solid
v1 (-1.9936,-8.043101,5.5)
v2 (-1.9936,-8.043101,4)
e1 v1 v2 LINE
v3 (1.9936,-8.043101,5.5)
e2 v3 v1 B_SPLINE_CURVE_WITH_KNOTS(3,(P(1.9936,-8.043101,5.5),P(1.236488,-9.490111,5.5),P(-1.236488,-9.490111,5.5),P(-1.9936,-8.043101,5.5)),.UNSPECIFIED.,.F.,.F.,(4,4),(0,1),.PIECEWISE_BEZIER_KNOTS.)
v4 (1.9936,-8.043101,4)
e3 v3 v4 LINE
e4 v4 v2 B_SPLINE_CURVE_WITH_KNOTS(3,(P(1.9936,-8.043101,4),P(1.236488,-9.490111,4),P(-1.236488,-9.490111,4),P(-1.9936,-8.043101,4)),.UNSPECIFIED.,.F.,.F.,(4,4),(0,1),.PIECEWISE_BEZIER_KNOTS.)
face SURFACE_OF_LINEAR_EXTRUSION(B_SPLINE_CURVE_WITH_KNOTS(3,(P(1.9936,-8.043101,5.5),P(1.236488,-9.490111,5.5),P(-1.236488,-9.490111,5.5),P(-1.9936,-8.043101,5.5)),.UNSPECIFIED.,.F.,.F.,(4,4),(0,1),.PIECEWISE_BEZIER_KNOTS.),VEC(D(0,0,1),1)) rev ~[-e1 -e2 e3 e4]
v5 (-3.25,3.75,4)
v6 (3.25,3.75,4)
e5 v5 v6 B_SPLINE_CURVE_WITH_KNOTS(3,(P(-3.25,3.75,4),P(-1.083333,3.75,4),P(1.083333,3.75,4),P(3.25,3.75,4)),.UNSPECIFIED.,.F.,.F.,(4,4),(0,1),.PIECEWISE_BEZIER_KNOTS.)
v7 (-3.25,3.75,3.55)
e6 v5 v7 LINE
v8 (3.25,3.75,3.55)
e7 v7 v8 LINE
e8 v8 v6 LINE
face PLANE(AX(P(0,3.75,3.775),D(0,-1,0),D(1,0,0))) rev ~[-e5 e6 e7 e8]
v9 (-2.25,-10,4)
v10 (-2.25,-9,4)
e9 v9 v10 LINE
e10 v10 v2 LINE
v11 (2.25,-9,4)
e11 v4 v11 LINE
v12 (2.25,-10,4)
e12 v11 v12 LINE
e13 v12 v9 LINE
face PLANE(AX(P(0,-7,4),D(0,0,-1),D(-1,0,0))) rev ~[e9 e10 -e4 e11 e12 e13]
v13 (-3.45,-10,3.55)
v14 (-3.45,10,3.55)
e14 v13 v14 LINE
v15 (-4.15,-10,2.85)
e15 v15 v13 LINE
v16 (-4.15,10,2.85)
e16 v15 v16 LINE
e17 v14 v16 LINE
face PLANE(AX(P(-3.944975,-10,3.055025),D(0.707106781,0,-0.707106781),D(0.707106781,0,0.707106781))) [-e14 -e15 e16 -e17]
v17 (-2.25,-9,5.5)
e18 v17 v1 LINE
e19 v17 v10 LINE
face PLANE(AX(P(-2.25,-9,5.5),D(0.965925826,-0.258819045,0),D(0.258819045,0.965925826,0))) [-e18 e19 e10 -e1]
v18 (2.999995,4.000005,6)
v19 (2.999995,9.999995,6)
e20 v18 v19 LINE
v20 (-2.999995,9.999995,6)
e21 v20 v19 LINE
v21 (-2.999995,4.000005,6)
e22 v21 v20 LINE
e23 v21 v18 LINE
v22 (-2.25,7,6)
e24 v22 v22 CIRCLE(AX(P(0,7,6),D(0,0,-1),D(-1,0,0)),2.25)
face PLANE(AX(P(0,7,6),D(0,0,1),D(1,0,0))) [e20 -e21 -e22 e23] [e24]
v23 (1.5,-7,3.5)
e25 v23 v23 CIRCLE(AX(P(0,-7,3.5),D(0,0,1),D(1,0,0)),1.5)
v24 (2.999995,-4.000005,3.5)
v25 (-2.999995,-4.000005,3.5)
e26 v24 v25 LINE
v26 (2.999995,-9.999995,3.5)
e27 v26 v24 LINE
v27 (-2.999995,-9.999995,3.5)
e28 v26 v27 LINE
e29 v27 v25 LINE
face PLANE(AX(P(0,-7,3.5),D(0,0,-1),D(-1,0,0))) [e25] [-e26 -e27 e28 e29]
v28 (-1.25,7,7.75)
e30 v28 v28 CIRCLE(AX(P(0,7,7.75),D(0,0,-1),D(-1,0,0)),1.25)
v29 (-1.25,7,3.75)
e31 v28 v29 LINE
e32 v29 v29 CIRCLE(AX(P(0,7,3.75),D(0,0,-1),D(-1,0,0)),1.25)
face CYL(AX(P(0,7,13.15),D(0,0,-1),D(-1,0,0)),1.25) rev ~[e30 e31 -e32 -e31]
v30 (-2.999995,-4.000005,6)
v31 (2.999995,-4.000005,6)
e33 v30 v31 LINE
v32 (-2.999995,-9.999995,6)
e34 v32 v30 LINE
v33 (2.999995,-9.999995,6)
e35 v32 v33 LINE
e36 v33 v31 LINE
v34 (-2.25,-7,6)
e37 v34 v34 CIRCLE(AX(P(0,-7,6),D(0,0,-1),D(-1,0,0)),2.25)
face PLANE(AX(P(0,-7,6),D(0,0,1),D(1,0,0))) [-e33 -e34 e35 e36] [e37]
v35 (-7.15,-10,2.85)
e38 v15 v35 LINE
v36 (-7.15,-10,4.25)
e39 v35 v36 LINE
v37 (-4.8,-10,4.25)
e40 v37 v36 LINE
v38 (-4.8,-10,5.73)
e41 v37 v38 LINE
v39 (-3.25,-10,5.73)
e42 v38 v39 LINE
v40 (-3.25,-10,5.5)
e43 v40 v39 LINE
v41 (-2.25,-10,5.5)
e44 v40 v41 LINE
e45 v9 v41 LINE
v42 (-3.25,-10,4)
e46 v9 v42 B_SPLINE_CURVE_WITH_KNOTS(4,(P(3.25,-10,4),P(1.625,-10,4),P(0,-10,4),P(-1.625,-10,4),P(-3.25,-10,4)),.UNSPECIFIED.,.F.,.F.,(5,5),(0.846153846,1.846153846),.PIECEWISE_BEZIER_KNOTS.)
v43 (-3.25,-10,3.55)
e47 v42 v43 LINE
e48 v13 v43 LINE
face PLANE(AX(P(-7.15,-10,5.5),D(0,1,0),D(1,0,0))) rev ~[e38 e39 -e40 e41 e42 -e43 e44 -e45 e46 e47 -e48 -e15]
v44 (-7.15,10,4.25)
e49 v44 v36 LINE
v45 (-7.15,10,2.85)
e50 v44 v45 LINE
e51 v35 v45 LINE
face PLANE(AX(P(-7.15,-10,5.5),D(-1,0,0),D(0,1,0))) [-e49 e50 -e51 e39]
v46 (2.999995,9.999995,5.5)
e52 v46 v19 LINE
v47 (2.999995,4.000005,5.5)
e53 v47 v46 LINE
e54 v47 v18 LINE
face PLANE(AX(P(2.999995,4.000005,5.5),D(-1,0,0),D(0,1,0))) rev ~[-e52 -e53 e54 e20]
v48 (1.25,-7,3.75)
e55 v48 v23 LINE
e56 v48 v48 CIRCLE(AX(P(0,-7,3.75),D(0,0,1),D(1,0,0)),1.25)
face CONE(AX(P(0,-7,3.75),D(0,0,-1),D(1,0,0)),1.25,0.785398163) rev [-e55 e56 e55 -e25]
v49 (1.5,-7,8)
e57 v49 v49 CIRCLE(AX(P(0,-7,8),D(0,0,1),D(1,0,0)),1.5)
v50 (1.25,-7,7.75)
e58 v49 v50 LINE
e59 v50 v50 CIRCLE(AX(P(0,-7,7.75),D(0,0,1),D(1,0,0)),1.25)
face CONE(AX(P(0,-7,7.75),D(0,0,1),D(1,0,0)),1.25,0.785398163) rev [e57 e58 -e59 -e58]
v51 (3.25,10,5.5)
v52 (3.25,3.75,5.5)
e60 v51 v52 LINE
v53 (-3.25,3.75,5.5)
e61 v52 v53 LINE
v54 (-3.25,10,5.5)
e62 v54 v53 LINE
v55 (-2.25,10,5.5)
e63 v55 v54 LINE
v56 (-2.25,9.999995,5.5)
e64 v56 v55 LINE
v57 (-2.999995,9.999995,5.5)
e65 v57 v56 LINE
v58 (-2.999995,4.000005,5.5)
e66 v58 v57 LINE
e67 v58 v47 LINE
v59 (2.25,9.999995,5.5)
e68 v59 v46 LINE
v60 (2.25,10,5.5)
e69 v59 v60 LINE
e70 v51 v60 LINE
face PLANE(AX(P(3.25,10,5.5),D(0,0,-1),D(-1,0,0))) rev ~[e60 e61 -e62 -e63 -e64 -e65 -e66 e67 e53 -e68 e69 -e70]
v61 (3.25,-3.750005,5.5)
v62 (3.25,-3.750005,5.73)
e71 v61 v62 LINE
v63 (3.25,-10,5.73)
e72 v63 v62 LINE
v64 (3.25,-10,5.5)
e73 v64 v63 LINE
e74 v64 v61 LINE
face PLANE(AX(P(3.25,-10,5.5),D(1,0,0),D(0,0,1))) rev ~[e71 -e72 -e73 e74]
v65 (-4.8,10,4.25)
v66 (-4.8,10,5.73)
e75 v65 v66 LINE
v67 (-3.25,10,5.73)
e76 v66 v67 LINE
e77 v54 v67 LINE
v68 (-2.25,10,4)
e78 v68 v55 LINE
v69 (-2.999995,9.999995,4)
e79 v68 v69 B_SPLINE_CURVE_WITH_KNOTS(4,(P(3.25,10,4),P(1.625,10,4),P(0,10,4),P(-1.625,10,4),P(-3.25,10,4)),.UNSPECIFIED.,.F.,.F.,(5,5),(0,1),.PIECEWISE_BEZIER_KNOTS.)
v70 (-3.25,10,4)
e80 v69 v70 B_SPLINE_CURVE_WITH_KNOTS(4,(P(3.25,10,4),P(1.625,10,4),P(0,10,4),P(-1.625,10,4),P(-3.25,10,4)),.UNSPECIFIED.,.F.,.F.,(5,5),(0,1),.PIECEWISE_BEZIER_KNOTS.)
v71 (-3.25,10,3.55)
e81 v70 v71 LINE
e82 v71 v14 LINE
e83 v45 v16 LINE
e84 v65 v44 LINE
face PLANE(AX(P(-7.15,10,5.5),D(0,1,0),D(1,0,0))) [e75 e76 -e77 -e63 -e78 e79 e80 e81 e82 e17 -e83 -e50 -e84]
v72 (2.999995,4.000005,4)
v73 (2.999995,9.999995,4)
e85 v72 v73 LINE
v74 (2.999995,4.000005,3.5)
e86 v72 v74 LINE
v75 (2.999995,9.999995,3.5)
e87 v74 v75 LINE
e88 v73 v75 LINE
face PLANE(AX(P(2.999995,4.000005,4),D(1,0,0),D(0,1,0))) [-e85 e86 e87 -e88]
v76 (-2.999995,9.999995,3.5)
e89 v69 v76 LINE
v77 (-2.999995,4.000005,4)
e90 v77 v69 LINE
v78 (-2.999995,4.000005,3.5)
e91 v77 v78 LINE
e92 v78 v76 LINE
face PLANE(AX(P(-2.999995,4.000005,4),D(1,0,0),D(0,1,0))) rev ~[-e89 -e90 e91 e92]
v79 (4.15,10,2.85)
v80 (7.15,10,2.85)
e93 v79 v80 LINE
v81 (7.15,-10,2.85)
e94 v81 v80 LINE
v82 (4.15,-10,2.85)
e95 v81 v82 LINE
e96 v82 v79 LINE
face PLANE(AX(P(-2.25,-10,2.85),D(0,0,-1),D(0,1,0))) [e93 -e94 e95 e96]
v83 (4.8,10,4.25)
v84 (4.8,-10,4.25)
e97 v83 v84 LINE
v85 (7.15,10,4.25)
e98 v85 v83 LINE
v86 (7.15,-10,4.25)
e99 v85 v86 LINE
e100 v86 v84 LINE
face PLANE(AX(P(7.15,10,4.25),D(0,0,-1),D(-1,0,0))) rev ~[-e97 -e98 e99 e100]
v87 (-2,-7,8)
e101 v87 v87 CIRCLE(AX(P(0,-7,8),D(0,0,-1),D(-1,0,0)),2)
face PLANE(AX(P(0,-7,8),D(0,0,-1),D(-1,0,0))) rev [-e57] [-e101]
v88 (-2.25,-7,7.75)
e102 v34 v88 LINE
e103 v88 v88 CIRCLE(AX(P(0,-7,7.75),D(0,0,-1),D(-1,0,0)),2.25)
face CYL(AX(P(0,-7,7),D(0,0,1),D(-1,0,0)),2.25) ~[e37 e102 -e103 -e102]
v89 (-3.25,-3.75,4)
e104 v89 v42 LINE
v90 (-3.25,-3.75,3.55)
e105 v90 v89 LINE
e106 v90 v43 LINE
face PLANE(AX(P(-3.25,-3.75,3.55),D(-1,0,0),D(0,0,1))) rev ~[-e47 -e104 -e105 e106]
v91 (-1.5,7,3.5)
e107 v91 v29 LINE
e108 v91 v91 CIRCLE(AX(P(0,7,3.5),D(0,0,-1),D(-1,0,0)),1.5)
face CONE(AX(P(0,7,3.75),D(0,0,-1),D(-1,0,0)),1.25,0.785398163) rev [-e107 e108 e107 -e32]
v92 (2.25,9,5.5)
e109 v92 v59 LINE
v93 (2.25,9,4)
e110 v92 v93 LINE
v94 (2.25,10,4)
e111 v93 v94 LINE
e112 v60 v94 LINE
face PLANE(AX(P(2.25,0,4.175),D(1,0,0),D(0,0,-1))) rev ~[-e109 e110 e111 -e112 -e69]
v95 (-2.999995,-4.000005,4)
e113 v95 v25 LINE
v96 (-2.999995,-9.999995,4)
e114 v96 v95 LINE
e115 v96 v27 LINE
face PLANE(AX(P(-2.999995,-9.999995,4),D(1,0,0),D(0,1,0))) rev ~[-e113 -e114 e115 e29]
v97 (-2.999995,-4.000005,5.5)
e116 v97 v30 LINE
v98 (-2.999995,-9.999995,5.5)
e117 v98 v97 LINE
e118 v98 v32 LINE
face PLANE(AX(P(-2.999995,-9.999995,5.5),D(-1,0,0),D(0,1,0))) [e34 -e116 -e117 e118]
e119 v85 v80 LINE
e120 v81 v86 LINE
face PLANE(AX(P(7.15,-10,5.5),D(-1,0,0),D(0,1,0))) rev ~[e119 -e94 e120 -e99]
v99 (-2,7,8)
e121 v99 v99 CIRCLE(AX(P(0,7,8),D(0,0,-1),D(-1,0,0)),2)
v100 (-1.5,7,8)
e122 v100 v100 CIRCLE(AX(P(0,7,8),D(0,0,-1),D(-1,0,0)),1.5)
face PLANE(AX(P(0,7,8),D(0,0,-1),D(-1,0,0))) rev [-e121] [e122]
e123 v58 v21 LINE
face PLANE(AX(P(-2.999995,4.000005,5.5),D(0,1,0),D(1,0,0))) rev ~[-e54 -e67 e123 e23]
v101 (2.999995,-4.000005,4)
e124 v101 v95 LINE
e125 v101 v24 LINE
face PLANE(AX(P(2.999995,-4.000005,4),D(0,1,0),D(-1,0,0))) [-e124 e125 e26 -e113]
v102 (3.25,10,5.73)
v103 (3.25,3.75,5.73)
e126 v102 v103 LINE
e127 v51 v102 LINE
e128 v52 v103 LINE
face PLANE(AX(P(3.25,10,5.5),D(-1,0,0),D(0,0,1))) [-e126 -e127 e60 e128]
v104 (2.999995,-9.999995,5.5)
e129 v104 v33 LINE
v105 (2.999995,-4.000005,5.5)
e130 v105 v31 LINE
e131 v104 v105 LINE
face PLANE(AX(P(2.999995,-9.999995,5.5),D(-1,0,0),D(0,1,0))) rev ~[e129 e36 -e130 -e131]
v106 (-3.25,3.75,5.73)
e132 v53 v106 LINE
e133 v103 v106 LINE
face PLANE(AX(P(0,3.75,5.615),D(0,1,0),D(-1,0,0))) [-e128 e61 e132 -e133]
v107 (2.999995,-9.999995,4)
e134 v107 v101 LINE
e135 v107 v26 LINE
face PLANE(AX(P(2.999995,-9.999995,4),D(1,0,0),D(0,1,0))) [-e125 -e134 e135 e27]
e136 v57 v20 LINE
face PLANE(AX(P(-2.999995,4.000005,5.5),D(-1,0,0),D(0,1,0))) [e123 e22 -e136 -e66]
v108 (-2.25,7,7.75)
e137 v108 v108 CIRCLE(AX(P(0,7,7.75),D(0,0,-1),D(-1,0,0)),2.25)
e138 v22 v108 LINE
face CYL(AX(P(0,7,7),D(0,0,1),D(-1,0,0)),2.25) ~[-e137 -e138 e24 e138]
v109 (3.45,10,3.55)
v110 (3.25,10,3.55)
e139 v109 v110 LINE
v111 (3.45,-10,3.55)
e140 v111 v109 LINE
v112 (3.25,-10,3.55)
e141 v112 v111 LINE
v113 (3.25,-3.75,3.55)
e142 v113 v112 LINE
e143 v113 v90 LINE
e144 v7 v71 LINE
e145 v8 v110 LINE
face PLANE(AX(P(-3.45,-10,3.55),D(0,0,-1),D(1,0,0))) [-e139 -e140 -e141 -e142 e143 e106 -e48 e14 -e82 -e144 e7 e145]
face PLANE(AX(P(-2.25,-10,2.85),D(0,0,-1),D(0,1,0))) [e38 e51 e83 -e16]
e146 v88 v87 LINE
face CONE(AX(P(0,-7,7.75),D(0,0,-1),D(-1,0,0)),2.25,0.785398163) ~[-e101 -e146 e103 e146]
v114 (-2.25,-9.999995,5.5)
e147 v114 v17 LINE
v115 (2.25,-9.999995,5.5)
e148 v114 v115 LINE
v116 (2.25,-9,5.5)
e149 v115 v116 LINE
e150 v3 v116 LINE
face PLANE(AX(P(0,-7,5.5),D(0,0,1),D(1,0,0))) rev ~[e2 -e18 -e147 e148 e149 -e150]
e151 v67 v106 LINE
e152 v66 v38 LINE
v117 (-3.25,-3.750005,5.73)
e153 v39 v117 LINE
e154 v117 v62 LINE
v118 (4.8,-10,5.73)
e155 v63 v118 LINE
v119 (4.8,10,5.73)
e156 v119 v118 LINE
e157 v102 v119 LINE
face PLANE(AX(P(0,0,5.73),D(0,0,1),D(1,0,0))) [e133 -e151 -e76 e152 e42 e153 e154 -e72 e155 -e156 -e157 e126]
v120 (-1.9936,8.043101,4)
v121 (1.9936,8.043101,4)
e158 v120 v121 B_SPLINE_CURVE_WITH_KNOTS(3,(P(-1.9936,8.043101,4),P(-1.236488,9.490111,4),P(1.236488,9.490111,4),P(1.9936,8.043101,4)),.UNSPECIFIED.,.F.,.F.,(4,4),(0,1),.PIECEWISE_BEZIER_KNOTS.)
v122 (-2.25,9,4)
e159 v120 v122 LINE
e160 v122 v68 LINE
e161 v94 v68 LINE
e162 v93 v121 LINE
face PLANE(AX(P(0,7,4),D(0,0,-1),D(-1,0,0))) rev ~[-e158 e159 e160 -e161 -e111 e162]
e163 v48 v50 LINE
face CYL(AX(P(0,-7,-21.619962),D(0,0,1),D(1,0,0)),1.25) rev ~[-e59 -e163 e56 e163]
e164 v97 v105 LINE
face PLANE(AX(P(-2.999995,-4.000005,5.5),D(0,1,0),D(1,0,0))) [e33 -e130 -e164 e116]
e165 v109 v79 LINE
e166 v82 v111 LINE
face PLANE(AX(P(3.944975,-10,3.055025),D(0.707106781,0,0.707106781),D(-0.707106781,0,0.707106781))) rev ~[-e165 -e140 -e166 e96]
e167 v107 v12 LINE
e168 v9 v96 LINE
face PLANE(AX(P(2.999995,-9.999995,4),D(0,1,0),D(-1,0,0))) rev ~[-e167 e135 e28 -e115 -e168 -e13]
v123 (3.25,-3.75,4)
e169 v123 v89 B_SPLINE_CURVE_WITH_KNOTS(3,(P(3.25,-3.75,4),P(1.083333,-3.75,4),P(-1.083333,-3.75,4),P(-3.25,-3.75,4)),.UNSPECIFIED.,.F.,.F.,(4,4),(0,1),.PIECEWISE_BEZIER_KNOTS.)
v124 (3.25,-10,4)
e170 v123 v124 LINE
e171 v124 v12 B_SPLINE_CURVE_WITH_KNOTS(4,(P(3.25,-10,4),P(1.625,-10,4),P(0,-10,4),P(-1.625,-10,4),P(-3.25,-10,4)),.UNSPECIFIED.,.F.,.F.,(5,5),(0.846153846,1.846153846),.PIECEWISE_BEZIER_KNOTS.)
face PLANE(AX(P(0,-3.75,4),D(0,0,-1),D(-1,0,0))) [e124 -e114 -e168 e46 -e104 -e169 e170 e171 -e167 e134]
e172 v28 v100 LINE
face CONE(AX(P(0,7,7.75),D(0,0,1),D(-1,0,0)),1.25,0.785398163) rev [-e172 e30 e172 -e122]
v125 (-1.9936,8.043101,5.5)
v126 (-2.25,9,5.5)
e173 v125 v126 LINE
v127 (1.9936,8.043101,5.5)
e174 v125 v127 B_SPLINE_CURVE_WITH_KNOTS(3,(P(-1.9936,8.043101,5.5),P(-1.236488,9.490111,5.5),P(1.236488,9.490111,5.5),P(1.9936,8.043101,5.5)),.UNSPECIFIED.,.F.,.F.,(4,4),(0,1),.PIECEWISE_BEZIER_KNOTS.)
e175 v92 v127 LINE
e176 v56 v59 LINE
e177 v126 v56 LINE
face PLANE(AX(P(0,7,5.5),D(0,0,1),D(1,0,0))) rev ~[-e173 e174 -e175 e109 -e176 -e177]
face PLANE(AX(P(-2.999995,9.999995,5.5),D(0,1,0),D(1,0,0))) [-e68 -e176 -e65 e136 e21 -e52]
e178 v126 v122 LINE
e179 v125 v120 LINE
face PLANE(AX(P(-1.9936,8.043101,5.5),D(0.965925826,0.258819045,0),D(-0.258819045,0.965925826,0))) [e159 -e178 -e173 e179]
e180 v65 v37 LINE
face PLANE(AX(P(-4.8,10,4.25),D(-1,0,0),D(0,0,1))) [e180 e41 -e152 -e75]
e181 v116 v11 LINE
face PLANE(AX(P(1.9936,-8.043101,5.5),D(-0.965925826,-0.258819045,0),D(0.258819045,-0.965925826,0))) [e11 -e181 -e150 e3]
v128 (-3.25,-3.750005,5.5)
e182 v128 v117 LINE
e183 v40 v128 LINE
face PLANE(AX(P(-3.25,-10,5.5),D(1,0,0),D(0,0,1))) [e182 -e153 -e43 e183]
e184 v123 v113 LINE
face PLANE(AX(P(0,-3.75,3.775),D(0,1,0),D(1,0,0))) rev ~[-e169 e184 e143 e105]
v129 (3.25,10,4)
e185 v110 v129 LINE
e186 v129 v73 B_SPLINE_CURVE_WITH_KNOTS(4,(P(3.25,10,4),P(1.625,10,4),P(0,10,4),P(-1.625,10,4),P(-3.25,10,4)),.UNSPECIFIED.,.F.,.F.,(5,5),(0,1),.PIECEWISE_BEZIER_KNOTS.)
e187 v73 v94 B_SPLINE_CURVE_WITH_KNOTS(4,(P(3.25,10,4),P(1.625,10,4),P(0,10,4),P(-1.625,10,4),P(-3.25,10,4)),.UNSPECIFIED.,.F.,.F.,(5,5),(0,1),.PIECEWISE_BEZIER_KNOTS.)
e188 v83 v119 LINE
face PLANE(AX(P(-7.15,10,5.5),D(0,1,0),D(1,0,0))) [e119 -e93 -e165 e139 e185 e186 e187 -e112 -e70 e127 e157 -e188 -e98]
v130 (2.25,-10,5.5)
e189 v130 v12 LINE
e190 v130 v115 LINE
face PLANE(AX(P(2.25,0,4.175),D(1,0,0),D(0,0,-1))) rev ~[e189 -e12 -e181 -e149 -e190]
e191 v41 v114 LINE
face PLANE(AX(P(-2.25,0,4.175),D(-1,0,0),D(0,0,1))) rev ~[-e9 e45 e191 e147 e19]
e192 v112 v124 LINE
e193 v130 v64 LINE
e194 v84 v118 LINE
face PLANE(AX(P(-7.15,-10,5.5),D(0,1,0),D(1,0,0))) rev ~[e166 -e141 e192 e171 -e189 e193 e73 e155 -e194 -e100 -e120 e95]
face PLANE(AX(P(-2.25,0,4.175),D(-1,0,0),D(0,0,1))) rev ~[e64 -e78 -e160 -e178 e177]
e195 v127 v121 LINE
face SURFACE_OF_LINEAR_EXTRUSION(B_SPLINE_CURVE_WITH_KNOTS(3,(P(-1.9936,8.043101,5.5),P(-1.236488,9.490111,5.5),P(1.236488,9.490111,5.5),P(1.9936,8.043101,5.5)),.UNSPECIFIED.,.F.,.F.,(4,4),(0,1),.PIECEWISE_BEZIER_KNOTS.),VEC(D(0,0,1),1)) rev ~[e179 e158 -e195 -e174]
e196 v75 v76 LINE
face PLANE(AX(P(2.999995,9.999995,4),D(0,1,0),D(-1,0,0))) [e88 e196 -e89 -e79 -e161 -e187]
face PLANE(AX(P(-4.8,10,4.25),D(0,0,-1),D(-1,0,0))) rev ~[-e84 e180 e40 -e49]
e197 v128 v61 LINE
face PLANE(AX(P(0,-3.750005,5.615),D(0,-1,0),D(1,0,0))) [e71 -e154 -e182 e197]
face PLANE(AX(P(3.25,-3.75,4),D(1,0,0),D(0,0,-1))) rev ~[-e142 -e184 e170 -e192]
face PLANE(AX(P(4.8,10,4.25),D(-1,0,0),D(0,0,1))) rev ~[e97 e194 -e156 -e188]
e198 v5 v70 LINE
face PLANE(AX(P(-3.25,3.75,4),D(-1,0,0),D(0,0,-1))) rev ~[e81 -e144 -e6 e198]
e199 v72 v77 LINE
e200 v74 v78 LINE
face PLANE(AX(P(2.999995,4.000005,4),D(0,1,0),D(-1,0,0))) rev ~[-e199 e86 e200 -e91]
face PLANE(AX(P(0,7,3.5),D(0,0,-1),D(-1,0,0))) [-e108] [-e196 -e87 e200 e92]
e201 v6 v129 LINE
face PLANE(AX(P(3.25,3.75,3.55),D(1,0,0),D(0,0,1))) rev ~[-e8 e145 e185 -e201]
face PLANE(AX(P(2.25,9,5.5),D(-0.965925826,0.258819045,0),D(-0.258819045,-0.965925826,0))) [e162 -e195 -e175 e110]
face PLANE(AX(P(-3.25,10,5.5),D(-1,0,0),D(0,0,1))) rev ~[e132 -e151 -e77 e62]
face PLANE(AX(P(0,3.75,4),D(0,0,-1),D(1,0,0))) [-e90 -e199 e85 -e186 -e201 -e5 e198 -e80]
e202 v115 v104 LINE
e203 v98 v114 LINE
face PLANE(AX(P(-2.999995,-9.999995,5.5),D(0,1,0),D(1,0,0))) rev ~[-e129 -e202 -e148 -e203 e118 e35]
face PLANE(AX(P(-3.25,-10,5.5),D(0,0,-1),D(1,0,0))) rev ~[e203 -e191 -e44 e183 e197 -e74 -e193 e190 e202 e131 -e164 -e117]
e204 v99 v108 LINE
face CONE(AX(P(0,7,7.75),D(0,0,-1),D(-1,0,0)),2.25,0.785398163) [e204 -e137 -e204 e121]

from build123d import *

# Parameters (mm, degrees)
BOSS_EXTRUDE1_DEPTH            = 1.5
SKETCH2_W                      = 4.5
SKETCH2_H                      = 19.25
BOSS_EXTRUDE2_DEPTH            = 1.15
BOSS_EXTRUDE3_DEPTH            = 0.75
SKETCH4_W                      = 2.65
SKETCH4_H                      = 20
BOSS_EXTRUDE4_DEPTH            = 4.9
SKETCH5_W                      = 2.65
SKETCH5_H                      = 20
BOSS_EXTRUDE5_DEPTH            = 4.9
SKETCH6_W                      = 14.3
SKETCH6_H                      = 20
BOSS_EXTRUDE6_DEPTH            = 0.23
SKETCH7_W                      = 6.9
SKETCH7_H                      = 0.7
CUT_EXTRUDE1_DEPTH             = 22.99898649
CUT_EXTRUDE2_REACH             = 18.523
CUT_EXTRUDE3_REACH             = 18.523
SKETCH12_W                     = 6.5
SKETCH12_H                     = 0.23
CUT_EXTRUDE4_DEPTH             = 6.25
SKETCH13_W                     = 6.5
SKETCH13_H                     = 0.23
CUT_EXTRUDE5_DEPTH             = 6.249995
SKETCH14_W                     = 2.35
SKETCH14_H                     = 1.48
CUT_EXTRUDE6_DEPTH             = 22.99898649
SKETCH15_W                     = 2.35
SKETCH15_H                     = 1.48
CUT_EXTRUDE7_DEPTH             = 22.99898649
SKETCH16_W                     = 5.99999
SKETCH16_H                     = 5.99999
BOSS_EXTRUDE7_DEPTH            = 0.5
SKETCH17_W                     = 5.99999
SKETCH17_H                     = 5.99999
BOSS_EXTRUDE8_DEPTH            = 0.5
SKETCH18_W                     = 5.99999
SKETCH18_H                     = 5.99999
BOSS_EXTRUDE9_DEPTH            = 0.5
SKETCH19_W                     = 5.99999
SKETCH19_H                     = 5.99999
BOSS_EXTRUDE10_DEPTH           = 0.5
DRAFT1_ANGLE                   = 45
SKETCH20_W                     = 2.25
SKETCH20_H                     = 2
SKETCH21_W                     = 2.25
SKETCH21_H                     = 2
F_2_5_2_5_DIAMETER_HOLE1_D     = 2.5
F_2_5_2_5_DIAMETER_HOLE2_D     = 2.5
F_2_5_2_5_DIAMETER_HOLE2_DEPTH = 5.15
CHAMFER1_SIZE                  = 0.25


with BuildPart() as part:
    # Sketch1 → Boss-Extrude1 (new body)
    with BuildSketch(Plane.XY.offset(5.5)):
        with BuildLine():
            Line((1.993599736, -8.043101189), (2.25, -9))
            Line((2.25, -9), (2.25, 9))
            Line((2.25, 9), (1.993599736, 8.043101189))
            add(Edge.make_bspline(
                [(-1.993599736, 8.043101189), (-1.236487805, 9.490111472), (1.236487805, 9.490111472), (1.993599736, 8.043101189)],
                knots=[0, 0, 0, 0, 1, 1, 1, 1], degree=3))
            Line((-1.993599736, 8.043101189), (-2.25, 9))
            Line((-2.25, 9), (-2.25, -9))
            Line((-2.25, -9), (-1.993599736, -8.043101189))
            add(Edge.make_bspline(
                [(1.993599736, -8.043101189), (1.236487805, -9.490111472), (-1.236487805, -9.490111472), (-1.993599736, -8.043101189)],
                knots=[0, 0, 0, 0, 1, 1, 1, 1], degree=3))
        make_face()
    extrude(amount=-BOSS_EXTRUDE1_DEPTH)

    # Sketch2 → Boss-Extrude2 (add)
    with BuildSketch(Plane(origin=(0, 0, 4), x_dir=(-1, 0, 0), z_dir=(0, 0, -1))):
        with Locations((0, 0.375)):
            Rectangle(SKETCH2_W, SKETCH2_H)
    extrude(amount=BOSS_EXTRUDE2_DEPTH)

    # Sketch3 → Boss-Extrude3 (add)
    with BuildSketch(Plane.XZ.offset(9.25)):
        with BuildLine():
            Line((2.25, 2.85), (-2.25, 2.85))
            Line((-2.25, 2.85), (-2.25, 4))
            add(Edge.make_bspline(
                [(2.25, 4), (0.75, 4), (-0.75, 4), (-2.25, 4)],
                knots=[0, 0, 0, 0, 1, 1, 1, 1], degree=3))
            Line((2.25, 4), (2.25, 2.85))
        make_face()
    extrude(amount=BOSS_EXTRUDE3_DEPTH)

    # Sketch4 → Boss-Extrude4 (add)
    with BuildSketch(Plane(origin=(2.25, 0, 0), x_dir=(0, 0, -1), z_dir=(1, 0, 0))):
        with Locations((-4.175, 0)):
            Rectangle(SKETCH4_W, SKETCH4_H)
    extrude(amount=BOSS_EXTRUDE4_DEPTH)

    # Sketch5 → Boss-Extrude5 (add)
    with BuildSketch(Plane.ZY.offset(2.25)):
        with Locations((4.175, 0)):
            Rectangle(SKETCH5_W, SKETCH5_H)
    extrude(amount=BOSS_EXTRUDE5_DEPTH)

    # Sketch6 → Boss-Extrude6 (add)
    with BuildSketch(Plane.XY.offset(5.5)):
        Rectangle(SKETCH6_W, SKETCH6_H)
    extrude(amount=BOSS_EXTRUDE6_DEPTH)

    # Sketch7 → Cut-Extrude1 (cut, through all)
    with BuildSketch(Plane.XZ.offset(10)):
        with Locations((0, 3.2)):
            Rectangle(SKETCH7_W, SKETCH7_H)
    extrude(amount=-CUT_EXTRUDE1_DEPTH, mode=Mode.SUBTRACT)

    # Sketch9 → Cut-Extrude2 (cut, up to next)
    with BuildSketch(Plane(origin=(0, -3.75, 0), x_dir=(1, 0, 0), z_dir=(0, 1, 0)), mode=Mode.PRIVATE) as cut_extrude2_sk1:
        with BuildLine():
            Line((3.25, -4), (3.25, -3.55))
            Line((3.25, -3.55), (-3.25, -3.55))
            Line((-3.25, -3.55), (-3.25, -4))
            add(Edge.make_bspline(
                [(3.25, -4), (1.083333333, -4), (-1.083333333, -4), (-3.25, -4)],
                knots=[0, 0, 0, 0, 1, 1, 1, 1], degree=3))
        make_face()
    cut_extrude2_tool1 = extrude(cut_extrude2_sk1.sketch, amount=-CUT_EXTRUDE2_REACH, mode=Mode.PRIVATE) & part.part
    add(cut_extrude2_tool1.solids().sort_by_distance((0, -3.75, 3.775))[0], mode=Mode.SUBTRACT)

    # Sketch11 → Cut-Extrude3 (cut, up to next)
    with BuildSketch(Plane.XZ.offset(-3.75), mode=Mode.PRIVATE) as cut_extrude3_sk1:
        with BuildLine():
            Line((-3.25, 4), (-3.25, 3.55))
            Line((-3.25, 3.55), (3.25, 3.55))
            Line((3.25, 3.55), (3.25, 4))
            add(Edge.make_bspline(
                [(-3.25, 4), (-1.083333333, 4), (1.083333333, 4), (3.25, 4)],
                knots=[0, 0, 0, 0, 1, 1, 1, 1], degree=3))
        make_face()
    cut_extrude3_tool1 = extrude(cut_extrude3_sk1.sketch, amount=-CUT_EXTRUDE3_REACH, mode=Mode.PRIVATE) & part.part
    add(cut_extrude3_tool1.solids().sort_by_distance((0, 3.75, 3.775))[0], mode=Mode.SUBTRACT)

    # Sketch12 → Cut-Extrude4 (cut)
    with BuildSketch(Plane(origin=(0, 10, 0), x_dir=(-1, 0, 0), z_dir=(0, 1, 0))):
        with Locations((0, 5.615)):
            Rectangle(SKETCH12_W, SKETCH12_H)
    extrude(amount=-CUT_EXTRUDE4_DEPTH, mode=Mode.SUBTRACT)

    # Sketch13 → Cut-Extrude5 (cut)
    with BuildSketch(Plane.XZ.offset(10)):
        with Locations((0, 5.615)):
            Rectangle(SKETCH13_W, SKETCH13_H)
    extrude(amount=-CUT_EXTRUDE5_DEPTH, mode=Mode.SUBTRACT)

    # Sketch14 → Cut-Extrude6 (cut, through all)
    with BuildSketch(Plane(origin=(0, 10, 0), x_dir=(-1, 0, 0), z_dir=(0, 1, 0))):
        with Locations((5.975, 4.99)):
            Rectangle(SKETCH14_W, SKETCH14_H)
    extrude(amount=-CUT_EXTRUDE6_DEPTH, mode=Mode.SUBTRACT)

    # Sketch15 → Cut-Extrude7 (cut, through all)
    with BuildSketch(Plane(origin=(0, 10, 0), x_dir=(-1, 0, 0), z_dir=(0, 1, 0))):
        with Locations((-5.975, 4.99)):
            Rectangle(SKETCH15_W, SKETCH15_H)
    extrude(amount=-CUT_EXTRUDE7_DEPTH, mode=Mode.SUBTRACT)

    # Sketch16 → Boss-Extrude7 (add)
    with BuildSketch(Plane(origin=(0, 0, 4), x_dir=(-1, 0, 0), z_dir=(0, 0, -1))):
        with Locations((0, 7)):
            Rectangle(SKETCH16_W, SKETCH16_H)
    extrude(amount=BOSS_EXTRUDE7_DEPTH)

    # Sketch17 → Boss-Extrude8 (add)
    with BuildSketch(Plane.XY.offset(5.5)):
        with Locations((0, 7)):
            Rectangle(SKETCH17_W, SKETCH17_H)
    extrude(amount=BOSS_EXTRUDE8_DEPTH)

    # Sketch18 → Boss-Extrude9 (add)
    with BuildSketch(Plane(origin=(0, 0, 4), x_dir=(-1, 0, 0), z_dir=(0, 0, -1))):
        with Locations((0, -7)):
            Rectangle(SKETCH18_W, SKETCH18_H)
    extrude(amount=BOSS_EXTRUDE9_DEPTH)

    # Sketch19 → Boss-Extrude10 (add)
    with BuildSketch(Plane.XY.offset(5.5)):
        with Locations((0, -7)):
            Rectangle(SKETCH19_W, SKETCH19_H)
    extrude(amount=BOSS_EXTRUDE10_DEPTH)

    # Draft1
    draft1_faces = [part.faces().sort_by_distance(p)[0] for p in [
        (-3.45, 0, 3.2),
        (3.45, 0, 3.2),
    ]]
    draft(draft1_faces, Plane(origin=(3.45, 10, 3.55), x_dir=(-1, 0, 0), z_dir=(0, 0, -1)), DRAFT1_ANGLE)

    # Sketch20 → Revolve1 (revolve)
    with BuildSketch(Plane.XZ.offset(7), mode=Mode.PRIVATE) as revolve1_sk:
        with Locations((1.125, 7)):
            Rectangle(SKETCH20_W, SKETCH20_H)
    revolve(revolve1_sk.sketch.rotate(Axis((0, -7, 8.000025), (0, 0, -1)), 180), axis=Axis((0, -7, 8.000025), (0, 0, -1)))

    # Sketch21 → Revolve2 (revolve)
    with BuildSketch(Plane.XZ.offset(-7), mode=Mode.PRIVATE) as revolve2_sk:
        with Locations((1.125, 7)):
            Rectangle(SKETCH21_W, SKETCH21_H)
    revolve(revolve2_sk.sketch.rotate(Axis((0, 7, 8.000025), (0, 0, -1)), 180), axis=Axis((0, 7, 8.000025), (0, 0, -1)))

    # Ø2.5 (2.5) Diameter Hole1 (through all)
    with Locations(Plane(origin=(0, 0, 3.5), x_dir=(-1, 0, 0), z_dir=(0, 0, -1))):
        with Locations((0, -7)):
            Hole(F_2_5_2_5_DIAMETER_HOLE1_D / 2)

    # Ø2.5 (2.5) Diameter Hole2
    with Locations(Plane.XY.offset(8)):
        with Locations((0, 7)):
            Hole(F_2_5_2_5_DIAMETER_HOLE2_D / 2, depth=F_2_5_2_5_DIAMETER_HOLE2_DEPTH)

    # Chamfer1
    chamfer1_edges = [part.edges().sort_by_distance(p)[0] for p in [
        (2.25, -7, 8),
        (2.25, 7, 8),
        (-1.25, -7, 3.5),
        (-1.25, -7, 8),
        (1.25, 7, 3.5),
        (1.25, 7, 8),
    ]]
    chamfer(chamfer1_edges, length=CHAMFER1_SIZE)


solid = part.part
